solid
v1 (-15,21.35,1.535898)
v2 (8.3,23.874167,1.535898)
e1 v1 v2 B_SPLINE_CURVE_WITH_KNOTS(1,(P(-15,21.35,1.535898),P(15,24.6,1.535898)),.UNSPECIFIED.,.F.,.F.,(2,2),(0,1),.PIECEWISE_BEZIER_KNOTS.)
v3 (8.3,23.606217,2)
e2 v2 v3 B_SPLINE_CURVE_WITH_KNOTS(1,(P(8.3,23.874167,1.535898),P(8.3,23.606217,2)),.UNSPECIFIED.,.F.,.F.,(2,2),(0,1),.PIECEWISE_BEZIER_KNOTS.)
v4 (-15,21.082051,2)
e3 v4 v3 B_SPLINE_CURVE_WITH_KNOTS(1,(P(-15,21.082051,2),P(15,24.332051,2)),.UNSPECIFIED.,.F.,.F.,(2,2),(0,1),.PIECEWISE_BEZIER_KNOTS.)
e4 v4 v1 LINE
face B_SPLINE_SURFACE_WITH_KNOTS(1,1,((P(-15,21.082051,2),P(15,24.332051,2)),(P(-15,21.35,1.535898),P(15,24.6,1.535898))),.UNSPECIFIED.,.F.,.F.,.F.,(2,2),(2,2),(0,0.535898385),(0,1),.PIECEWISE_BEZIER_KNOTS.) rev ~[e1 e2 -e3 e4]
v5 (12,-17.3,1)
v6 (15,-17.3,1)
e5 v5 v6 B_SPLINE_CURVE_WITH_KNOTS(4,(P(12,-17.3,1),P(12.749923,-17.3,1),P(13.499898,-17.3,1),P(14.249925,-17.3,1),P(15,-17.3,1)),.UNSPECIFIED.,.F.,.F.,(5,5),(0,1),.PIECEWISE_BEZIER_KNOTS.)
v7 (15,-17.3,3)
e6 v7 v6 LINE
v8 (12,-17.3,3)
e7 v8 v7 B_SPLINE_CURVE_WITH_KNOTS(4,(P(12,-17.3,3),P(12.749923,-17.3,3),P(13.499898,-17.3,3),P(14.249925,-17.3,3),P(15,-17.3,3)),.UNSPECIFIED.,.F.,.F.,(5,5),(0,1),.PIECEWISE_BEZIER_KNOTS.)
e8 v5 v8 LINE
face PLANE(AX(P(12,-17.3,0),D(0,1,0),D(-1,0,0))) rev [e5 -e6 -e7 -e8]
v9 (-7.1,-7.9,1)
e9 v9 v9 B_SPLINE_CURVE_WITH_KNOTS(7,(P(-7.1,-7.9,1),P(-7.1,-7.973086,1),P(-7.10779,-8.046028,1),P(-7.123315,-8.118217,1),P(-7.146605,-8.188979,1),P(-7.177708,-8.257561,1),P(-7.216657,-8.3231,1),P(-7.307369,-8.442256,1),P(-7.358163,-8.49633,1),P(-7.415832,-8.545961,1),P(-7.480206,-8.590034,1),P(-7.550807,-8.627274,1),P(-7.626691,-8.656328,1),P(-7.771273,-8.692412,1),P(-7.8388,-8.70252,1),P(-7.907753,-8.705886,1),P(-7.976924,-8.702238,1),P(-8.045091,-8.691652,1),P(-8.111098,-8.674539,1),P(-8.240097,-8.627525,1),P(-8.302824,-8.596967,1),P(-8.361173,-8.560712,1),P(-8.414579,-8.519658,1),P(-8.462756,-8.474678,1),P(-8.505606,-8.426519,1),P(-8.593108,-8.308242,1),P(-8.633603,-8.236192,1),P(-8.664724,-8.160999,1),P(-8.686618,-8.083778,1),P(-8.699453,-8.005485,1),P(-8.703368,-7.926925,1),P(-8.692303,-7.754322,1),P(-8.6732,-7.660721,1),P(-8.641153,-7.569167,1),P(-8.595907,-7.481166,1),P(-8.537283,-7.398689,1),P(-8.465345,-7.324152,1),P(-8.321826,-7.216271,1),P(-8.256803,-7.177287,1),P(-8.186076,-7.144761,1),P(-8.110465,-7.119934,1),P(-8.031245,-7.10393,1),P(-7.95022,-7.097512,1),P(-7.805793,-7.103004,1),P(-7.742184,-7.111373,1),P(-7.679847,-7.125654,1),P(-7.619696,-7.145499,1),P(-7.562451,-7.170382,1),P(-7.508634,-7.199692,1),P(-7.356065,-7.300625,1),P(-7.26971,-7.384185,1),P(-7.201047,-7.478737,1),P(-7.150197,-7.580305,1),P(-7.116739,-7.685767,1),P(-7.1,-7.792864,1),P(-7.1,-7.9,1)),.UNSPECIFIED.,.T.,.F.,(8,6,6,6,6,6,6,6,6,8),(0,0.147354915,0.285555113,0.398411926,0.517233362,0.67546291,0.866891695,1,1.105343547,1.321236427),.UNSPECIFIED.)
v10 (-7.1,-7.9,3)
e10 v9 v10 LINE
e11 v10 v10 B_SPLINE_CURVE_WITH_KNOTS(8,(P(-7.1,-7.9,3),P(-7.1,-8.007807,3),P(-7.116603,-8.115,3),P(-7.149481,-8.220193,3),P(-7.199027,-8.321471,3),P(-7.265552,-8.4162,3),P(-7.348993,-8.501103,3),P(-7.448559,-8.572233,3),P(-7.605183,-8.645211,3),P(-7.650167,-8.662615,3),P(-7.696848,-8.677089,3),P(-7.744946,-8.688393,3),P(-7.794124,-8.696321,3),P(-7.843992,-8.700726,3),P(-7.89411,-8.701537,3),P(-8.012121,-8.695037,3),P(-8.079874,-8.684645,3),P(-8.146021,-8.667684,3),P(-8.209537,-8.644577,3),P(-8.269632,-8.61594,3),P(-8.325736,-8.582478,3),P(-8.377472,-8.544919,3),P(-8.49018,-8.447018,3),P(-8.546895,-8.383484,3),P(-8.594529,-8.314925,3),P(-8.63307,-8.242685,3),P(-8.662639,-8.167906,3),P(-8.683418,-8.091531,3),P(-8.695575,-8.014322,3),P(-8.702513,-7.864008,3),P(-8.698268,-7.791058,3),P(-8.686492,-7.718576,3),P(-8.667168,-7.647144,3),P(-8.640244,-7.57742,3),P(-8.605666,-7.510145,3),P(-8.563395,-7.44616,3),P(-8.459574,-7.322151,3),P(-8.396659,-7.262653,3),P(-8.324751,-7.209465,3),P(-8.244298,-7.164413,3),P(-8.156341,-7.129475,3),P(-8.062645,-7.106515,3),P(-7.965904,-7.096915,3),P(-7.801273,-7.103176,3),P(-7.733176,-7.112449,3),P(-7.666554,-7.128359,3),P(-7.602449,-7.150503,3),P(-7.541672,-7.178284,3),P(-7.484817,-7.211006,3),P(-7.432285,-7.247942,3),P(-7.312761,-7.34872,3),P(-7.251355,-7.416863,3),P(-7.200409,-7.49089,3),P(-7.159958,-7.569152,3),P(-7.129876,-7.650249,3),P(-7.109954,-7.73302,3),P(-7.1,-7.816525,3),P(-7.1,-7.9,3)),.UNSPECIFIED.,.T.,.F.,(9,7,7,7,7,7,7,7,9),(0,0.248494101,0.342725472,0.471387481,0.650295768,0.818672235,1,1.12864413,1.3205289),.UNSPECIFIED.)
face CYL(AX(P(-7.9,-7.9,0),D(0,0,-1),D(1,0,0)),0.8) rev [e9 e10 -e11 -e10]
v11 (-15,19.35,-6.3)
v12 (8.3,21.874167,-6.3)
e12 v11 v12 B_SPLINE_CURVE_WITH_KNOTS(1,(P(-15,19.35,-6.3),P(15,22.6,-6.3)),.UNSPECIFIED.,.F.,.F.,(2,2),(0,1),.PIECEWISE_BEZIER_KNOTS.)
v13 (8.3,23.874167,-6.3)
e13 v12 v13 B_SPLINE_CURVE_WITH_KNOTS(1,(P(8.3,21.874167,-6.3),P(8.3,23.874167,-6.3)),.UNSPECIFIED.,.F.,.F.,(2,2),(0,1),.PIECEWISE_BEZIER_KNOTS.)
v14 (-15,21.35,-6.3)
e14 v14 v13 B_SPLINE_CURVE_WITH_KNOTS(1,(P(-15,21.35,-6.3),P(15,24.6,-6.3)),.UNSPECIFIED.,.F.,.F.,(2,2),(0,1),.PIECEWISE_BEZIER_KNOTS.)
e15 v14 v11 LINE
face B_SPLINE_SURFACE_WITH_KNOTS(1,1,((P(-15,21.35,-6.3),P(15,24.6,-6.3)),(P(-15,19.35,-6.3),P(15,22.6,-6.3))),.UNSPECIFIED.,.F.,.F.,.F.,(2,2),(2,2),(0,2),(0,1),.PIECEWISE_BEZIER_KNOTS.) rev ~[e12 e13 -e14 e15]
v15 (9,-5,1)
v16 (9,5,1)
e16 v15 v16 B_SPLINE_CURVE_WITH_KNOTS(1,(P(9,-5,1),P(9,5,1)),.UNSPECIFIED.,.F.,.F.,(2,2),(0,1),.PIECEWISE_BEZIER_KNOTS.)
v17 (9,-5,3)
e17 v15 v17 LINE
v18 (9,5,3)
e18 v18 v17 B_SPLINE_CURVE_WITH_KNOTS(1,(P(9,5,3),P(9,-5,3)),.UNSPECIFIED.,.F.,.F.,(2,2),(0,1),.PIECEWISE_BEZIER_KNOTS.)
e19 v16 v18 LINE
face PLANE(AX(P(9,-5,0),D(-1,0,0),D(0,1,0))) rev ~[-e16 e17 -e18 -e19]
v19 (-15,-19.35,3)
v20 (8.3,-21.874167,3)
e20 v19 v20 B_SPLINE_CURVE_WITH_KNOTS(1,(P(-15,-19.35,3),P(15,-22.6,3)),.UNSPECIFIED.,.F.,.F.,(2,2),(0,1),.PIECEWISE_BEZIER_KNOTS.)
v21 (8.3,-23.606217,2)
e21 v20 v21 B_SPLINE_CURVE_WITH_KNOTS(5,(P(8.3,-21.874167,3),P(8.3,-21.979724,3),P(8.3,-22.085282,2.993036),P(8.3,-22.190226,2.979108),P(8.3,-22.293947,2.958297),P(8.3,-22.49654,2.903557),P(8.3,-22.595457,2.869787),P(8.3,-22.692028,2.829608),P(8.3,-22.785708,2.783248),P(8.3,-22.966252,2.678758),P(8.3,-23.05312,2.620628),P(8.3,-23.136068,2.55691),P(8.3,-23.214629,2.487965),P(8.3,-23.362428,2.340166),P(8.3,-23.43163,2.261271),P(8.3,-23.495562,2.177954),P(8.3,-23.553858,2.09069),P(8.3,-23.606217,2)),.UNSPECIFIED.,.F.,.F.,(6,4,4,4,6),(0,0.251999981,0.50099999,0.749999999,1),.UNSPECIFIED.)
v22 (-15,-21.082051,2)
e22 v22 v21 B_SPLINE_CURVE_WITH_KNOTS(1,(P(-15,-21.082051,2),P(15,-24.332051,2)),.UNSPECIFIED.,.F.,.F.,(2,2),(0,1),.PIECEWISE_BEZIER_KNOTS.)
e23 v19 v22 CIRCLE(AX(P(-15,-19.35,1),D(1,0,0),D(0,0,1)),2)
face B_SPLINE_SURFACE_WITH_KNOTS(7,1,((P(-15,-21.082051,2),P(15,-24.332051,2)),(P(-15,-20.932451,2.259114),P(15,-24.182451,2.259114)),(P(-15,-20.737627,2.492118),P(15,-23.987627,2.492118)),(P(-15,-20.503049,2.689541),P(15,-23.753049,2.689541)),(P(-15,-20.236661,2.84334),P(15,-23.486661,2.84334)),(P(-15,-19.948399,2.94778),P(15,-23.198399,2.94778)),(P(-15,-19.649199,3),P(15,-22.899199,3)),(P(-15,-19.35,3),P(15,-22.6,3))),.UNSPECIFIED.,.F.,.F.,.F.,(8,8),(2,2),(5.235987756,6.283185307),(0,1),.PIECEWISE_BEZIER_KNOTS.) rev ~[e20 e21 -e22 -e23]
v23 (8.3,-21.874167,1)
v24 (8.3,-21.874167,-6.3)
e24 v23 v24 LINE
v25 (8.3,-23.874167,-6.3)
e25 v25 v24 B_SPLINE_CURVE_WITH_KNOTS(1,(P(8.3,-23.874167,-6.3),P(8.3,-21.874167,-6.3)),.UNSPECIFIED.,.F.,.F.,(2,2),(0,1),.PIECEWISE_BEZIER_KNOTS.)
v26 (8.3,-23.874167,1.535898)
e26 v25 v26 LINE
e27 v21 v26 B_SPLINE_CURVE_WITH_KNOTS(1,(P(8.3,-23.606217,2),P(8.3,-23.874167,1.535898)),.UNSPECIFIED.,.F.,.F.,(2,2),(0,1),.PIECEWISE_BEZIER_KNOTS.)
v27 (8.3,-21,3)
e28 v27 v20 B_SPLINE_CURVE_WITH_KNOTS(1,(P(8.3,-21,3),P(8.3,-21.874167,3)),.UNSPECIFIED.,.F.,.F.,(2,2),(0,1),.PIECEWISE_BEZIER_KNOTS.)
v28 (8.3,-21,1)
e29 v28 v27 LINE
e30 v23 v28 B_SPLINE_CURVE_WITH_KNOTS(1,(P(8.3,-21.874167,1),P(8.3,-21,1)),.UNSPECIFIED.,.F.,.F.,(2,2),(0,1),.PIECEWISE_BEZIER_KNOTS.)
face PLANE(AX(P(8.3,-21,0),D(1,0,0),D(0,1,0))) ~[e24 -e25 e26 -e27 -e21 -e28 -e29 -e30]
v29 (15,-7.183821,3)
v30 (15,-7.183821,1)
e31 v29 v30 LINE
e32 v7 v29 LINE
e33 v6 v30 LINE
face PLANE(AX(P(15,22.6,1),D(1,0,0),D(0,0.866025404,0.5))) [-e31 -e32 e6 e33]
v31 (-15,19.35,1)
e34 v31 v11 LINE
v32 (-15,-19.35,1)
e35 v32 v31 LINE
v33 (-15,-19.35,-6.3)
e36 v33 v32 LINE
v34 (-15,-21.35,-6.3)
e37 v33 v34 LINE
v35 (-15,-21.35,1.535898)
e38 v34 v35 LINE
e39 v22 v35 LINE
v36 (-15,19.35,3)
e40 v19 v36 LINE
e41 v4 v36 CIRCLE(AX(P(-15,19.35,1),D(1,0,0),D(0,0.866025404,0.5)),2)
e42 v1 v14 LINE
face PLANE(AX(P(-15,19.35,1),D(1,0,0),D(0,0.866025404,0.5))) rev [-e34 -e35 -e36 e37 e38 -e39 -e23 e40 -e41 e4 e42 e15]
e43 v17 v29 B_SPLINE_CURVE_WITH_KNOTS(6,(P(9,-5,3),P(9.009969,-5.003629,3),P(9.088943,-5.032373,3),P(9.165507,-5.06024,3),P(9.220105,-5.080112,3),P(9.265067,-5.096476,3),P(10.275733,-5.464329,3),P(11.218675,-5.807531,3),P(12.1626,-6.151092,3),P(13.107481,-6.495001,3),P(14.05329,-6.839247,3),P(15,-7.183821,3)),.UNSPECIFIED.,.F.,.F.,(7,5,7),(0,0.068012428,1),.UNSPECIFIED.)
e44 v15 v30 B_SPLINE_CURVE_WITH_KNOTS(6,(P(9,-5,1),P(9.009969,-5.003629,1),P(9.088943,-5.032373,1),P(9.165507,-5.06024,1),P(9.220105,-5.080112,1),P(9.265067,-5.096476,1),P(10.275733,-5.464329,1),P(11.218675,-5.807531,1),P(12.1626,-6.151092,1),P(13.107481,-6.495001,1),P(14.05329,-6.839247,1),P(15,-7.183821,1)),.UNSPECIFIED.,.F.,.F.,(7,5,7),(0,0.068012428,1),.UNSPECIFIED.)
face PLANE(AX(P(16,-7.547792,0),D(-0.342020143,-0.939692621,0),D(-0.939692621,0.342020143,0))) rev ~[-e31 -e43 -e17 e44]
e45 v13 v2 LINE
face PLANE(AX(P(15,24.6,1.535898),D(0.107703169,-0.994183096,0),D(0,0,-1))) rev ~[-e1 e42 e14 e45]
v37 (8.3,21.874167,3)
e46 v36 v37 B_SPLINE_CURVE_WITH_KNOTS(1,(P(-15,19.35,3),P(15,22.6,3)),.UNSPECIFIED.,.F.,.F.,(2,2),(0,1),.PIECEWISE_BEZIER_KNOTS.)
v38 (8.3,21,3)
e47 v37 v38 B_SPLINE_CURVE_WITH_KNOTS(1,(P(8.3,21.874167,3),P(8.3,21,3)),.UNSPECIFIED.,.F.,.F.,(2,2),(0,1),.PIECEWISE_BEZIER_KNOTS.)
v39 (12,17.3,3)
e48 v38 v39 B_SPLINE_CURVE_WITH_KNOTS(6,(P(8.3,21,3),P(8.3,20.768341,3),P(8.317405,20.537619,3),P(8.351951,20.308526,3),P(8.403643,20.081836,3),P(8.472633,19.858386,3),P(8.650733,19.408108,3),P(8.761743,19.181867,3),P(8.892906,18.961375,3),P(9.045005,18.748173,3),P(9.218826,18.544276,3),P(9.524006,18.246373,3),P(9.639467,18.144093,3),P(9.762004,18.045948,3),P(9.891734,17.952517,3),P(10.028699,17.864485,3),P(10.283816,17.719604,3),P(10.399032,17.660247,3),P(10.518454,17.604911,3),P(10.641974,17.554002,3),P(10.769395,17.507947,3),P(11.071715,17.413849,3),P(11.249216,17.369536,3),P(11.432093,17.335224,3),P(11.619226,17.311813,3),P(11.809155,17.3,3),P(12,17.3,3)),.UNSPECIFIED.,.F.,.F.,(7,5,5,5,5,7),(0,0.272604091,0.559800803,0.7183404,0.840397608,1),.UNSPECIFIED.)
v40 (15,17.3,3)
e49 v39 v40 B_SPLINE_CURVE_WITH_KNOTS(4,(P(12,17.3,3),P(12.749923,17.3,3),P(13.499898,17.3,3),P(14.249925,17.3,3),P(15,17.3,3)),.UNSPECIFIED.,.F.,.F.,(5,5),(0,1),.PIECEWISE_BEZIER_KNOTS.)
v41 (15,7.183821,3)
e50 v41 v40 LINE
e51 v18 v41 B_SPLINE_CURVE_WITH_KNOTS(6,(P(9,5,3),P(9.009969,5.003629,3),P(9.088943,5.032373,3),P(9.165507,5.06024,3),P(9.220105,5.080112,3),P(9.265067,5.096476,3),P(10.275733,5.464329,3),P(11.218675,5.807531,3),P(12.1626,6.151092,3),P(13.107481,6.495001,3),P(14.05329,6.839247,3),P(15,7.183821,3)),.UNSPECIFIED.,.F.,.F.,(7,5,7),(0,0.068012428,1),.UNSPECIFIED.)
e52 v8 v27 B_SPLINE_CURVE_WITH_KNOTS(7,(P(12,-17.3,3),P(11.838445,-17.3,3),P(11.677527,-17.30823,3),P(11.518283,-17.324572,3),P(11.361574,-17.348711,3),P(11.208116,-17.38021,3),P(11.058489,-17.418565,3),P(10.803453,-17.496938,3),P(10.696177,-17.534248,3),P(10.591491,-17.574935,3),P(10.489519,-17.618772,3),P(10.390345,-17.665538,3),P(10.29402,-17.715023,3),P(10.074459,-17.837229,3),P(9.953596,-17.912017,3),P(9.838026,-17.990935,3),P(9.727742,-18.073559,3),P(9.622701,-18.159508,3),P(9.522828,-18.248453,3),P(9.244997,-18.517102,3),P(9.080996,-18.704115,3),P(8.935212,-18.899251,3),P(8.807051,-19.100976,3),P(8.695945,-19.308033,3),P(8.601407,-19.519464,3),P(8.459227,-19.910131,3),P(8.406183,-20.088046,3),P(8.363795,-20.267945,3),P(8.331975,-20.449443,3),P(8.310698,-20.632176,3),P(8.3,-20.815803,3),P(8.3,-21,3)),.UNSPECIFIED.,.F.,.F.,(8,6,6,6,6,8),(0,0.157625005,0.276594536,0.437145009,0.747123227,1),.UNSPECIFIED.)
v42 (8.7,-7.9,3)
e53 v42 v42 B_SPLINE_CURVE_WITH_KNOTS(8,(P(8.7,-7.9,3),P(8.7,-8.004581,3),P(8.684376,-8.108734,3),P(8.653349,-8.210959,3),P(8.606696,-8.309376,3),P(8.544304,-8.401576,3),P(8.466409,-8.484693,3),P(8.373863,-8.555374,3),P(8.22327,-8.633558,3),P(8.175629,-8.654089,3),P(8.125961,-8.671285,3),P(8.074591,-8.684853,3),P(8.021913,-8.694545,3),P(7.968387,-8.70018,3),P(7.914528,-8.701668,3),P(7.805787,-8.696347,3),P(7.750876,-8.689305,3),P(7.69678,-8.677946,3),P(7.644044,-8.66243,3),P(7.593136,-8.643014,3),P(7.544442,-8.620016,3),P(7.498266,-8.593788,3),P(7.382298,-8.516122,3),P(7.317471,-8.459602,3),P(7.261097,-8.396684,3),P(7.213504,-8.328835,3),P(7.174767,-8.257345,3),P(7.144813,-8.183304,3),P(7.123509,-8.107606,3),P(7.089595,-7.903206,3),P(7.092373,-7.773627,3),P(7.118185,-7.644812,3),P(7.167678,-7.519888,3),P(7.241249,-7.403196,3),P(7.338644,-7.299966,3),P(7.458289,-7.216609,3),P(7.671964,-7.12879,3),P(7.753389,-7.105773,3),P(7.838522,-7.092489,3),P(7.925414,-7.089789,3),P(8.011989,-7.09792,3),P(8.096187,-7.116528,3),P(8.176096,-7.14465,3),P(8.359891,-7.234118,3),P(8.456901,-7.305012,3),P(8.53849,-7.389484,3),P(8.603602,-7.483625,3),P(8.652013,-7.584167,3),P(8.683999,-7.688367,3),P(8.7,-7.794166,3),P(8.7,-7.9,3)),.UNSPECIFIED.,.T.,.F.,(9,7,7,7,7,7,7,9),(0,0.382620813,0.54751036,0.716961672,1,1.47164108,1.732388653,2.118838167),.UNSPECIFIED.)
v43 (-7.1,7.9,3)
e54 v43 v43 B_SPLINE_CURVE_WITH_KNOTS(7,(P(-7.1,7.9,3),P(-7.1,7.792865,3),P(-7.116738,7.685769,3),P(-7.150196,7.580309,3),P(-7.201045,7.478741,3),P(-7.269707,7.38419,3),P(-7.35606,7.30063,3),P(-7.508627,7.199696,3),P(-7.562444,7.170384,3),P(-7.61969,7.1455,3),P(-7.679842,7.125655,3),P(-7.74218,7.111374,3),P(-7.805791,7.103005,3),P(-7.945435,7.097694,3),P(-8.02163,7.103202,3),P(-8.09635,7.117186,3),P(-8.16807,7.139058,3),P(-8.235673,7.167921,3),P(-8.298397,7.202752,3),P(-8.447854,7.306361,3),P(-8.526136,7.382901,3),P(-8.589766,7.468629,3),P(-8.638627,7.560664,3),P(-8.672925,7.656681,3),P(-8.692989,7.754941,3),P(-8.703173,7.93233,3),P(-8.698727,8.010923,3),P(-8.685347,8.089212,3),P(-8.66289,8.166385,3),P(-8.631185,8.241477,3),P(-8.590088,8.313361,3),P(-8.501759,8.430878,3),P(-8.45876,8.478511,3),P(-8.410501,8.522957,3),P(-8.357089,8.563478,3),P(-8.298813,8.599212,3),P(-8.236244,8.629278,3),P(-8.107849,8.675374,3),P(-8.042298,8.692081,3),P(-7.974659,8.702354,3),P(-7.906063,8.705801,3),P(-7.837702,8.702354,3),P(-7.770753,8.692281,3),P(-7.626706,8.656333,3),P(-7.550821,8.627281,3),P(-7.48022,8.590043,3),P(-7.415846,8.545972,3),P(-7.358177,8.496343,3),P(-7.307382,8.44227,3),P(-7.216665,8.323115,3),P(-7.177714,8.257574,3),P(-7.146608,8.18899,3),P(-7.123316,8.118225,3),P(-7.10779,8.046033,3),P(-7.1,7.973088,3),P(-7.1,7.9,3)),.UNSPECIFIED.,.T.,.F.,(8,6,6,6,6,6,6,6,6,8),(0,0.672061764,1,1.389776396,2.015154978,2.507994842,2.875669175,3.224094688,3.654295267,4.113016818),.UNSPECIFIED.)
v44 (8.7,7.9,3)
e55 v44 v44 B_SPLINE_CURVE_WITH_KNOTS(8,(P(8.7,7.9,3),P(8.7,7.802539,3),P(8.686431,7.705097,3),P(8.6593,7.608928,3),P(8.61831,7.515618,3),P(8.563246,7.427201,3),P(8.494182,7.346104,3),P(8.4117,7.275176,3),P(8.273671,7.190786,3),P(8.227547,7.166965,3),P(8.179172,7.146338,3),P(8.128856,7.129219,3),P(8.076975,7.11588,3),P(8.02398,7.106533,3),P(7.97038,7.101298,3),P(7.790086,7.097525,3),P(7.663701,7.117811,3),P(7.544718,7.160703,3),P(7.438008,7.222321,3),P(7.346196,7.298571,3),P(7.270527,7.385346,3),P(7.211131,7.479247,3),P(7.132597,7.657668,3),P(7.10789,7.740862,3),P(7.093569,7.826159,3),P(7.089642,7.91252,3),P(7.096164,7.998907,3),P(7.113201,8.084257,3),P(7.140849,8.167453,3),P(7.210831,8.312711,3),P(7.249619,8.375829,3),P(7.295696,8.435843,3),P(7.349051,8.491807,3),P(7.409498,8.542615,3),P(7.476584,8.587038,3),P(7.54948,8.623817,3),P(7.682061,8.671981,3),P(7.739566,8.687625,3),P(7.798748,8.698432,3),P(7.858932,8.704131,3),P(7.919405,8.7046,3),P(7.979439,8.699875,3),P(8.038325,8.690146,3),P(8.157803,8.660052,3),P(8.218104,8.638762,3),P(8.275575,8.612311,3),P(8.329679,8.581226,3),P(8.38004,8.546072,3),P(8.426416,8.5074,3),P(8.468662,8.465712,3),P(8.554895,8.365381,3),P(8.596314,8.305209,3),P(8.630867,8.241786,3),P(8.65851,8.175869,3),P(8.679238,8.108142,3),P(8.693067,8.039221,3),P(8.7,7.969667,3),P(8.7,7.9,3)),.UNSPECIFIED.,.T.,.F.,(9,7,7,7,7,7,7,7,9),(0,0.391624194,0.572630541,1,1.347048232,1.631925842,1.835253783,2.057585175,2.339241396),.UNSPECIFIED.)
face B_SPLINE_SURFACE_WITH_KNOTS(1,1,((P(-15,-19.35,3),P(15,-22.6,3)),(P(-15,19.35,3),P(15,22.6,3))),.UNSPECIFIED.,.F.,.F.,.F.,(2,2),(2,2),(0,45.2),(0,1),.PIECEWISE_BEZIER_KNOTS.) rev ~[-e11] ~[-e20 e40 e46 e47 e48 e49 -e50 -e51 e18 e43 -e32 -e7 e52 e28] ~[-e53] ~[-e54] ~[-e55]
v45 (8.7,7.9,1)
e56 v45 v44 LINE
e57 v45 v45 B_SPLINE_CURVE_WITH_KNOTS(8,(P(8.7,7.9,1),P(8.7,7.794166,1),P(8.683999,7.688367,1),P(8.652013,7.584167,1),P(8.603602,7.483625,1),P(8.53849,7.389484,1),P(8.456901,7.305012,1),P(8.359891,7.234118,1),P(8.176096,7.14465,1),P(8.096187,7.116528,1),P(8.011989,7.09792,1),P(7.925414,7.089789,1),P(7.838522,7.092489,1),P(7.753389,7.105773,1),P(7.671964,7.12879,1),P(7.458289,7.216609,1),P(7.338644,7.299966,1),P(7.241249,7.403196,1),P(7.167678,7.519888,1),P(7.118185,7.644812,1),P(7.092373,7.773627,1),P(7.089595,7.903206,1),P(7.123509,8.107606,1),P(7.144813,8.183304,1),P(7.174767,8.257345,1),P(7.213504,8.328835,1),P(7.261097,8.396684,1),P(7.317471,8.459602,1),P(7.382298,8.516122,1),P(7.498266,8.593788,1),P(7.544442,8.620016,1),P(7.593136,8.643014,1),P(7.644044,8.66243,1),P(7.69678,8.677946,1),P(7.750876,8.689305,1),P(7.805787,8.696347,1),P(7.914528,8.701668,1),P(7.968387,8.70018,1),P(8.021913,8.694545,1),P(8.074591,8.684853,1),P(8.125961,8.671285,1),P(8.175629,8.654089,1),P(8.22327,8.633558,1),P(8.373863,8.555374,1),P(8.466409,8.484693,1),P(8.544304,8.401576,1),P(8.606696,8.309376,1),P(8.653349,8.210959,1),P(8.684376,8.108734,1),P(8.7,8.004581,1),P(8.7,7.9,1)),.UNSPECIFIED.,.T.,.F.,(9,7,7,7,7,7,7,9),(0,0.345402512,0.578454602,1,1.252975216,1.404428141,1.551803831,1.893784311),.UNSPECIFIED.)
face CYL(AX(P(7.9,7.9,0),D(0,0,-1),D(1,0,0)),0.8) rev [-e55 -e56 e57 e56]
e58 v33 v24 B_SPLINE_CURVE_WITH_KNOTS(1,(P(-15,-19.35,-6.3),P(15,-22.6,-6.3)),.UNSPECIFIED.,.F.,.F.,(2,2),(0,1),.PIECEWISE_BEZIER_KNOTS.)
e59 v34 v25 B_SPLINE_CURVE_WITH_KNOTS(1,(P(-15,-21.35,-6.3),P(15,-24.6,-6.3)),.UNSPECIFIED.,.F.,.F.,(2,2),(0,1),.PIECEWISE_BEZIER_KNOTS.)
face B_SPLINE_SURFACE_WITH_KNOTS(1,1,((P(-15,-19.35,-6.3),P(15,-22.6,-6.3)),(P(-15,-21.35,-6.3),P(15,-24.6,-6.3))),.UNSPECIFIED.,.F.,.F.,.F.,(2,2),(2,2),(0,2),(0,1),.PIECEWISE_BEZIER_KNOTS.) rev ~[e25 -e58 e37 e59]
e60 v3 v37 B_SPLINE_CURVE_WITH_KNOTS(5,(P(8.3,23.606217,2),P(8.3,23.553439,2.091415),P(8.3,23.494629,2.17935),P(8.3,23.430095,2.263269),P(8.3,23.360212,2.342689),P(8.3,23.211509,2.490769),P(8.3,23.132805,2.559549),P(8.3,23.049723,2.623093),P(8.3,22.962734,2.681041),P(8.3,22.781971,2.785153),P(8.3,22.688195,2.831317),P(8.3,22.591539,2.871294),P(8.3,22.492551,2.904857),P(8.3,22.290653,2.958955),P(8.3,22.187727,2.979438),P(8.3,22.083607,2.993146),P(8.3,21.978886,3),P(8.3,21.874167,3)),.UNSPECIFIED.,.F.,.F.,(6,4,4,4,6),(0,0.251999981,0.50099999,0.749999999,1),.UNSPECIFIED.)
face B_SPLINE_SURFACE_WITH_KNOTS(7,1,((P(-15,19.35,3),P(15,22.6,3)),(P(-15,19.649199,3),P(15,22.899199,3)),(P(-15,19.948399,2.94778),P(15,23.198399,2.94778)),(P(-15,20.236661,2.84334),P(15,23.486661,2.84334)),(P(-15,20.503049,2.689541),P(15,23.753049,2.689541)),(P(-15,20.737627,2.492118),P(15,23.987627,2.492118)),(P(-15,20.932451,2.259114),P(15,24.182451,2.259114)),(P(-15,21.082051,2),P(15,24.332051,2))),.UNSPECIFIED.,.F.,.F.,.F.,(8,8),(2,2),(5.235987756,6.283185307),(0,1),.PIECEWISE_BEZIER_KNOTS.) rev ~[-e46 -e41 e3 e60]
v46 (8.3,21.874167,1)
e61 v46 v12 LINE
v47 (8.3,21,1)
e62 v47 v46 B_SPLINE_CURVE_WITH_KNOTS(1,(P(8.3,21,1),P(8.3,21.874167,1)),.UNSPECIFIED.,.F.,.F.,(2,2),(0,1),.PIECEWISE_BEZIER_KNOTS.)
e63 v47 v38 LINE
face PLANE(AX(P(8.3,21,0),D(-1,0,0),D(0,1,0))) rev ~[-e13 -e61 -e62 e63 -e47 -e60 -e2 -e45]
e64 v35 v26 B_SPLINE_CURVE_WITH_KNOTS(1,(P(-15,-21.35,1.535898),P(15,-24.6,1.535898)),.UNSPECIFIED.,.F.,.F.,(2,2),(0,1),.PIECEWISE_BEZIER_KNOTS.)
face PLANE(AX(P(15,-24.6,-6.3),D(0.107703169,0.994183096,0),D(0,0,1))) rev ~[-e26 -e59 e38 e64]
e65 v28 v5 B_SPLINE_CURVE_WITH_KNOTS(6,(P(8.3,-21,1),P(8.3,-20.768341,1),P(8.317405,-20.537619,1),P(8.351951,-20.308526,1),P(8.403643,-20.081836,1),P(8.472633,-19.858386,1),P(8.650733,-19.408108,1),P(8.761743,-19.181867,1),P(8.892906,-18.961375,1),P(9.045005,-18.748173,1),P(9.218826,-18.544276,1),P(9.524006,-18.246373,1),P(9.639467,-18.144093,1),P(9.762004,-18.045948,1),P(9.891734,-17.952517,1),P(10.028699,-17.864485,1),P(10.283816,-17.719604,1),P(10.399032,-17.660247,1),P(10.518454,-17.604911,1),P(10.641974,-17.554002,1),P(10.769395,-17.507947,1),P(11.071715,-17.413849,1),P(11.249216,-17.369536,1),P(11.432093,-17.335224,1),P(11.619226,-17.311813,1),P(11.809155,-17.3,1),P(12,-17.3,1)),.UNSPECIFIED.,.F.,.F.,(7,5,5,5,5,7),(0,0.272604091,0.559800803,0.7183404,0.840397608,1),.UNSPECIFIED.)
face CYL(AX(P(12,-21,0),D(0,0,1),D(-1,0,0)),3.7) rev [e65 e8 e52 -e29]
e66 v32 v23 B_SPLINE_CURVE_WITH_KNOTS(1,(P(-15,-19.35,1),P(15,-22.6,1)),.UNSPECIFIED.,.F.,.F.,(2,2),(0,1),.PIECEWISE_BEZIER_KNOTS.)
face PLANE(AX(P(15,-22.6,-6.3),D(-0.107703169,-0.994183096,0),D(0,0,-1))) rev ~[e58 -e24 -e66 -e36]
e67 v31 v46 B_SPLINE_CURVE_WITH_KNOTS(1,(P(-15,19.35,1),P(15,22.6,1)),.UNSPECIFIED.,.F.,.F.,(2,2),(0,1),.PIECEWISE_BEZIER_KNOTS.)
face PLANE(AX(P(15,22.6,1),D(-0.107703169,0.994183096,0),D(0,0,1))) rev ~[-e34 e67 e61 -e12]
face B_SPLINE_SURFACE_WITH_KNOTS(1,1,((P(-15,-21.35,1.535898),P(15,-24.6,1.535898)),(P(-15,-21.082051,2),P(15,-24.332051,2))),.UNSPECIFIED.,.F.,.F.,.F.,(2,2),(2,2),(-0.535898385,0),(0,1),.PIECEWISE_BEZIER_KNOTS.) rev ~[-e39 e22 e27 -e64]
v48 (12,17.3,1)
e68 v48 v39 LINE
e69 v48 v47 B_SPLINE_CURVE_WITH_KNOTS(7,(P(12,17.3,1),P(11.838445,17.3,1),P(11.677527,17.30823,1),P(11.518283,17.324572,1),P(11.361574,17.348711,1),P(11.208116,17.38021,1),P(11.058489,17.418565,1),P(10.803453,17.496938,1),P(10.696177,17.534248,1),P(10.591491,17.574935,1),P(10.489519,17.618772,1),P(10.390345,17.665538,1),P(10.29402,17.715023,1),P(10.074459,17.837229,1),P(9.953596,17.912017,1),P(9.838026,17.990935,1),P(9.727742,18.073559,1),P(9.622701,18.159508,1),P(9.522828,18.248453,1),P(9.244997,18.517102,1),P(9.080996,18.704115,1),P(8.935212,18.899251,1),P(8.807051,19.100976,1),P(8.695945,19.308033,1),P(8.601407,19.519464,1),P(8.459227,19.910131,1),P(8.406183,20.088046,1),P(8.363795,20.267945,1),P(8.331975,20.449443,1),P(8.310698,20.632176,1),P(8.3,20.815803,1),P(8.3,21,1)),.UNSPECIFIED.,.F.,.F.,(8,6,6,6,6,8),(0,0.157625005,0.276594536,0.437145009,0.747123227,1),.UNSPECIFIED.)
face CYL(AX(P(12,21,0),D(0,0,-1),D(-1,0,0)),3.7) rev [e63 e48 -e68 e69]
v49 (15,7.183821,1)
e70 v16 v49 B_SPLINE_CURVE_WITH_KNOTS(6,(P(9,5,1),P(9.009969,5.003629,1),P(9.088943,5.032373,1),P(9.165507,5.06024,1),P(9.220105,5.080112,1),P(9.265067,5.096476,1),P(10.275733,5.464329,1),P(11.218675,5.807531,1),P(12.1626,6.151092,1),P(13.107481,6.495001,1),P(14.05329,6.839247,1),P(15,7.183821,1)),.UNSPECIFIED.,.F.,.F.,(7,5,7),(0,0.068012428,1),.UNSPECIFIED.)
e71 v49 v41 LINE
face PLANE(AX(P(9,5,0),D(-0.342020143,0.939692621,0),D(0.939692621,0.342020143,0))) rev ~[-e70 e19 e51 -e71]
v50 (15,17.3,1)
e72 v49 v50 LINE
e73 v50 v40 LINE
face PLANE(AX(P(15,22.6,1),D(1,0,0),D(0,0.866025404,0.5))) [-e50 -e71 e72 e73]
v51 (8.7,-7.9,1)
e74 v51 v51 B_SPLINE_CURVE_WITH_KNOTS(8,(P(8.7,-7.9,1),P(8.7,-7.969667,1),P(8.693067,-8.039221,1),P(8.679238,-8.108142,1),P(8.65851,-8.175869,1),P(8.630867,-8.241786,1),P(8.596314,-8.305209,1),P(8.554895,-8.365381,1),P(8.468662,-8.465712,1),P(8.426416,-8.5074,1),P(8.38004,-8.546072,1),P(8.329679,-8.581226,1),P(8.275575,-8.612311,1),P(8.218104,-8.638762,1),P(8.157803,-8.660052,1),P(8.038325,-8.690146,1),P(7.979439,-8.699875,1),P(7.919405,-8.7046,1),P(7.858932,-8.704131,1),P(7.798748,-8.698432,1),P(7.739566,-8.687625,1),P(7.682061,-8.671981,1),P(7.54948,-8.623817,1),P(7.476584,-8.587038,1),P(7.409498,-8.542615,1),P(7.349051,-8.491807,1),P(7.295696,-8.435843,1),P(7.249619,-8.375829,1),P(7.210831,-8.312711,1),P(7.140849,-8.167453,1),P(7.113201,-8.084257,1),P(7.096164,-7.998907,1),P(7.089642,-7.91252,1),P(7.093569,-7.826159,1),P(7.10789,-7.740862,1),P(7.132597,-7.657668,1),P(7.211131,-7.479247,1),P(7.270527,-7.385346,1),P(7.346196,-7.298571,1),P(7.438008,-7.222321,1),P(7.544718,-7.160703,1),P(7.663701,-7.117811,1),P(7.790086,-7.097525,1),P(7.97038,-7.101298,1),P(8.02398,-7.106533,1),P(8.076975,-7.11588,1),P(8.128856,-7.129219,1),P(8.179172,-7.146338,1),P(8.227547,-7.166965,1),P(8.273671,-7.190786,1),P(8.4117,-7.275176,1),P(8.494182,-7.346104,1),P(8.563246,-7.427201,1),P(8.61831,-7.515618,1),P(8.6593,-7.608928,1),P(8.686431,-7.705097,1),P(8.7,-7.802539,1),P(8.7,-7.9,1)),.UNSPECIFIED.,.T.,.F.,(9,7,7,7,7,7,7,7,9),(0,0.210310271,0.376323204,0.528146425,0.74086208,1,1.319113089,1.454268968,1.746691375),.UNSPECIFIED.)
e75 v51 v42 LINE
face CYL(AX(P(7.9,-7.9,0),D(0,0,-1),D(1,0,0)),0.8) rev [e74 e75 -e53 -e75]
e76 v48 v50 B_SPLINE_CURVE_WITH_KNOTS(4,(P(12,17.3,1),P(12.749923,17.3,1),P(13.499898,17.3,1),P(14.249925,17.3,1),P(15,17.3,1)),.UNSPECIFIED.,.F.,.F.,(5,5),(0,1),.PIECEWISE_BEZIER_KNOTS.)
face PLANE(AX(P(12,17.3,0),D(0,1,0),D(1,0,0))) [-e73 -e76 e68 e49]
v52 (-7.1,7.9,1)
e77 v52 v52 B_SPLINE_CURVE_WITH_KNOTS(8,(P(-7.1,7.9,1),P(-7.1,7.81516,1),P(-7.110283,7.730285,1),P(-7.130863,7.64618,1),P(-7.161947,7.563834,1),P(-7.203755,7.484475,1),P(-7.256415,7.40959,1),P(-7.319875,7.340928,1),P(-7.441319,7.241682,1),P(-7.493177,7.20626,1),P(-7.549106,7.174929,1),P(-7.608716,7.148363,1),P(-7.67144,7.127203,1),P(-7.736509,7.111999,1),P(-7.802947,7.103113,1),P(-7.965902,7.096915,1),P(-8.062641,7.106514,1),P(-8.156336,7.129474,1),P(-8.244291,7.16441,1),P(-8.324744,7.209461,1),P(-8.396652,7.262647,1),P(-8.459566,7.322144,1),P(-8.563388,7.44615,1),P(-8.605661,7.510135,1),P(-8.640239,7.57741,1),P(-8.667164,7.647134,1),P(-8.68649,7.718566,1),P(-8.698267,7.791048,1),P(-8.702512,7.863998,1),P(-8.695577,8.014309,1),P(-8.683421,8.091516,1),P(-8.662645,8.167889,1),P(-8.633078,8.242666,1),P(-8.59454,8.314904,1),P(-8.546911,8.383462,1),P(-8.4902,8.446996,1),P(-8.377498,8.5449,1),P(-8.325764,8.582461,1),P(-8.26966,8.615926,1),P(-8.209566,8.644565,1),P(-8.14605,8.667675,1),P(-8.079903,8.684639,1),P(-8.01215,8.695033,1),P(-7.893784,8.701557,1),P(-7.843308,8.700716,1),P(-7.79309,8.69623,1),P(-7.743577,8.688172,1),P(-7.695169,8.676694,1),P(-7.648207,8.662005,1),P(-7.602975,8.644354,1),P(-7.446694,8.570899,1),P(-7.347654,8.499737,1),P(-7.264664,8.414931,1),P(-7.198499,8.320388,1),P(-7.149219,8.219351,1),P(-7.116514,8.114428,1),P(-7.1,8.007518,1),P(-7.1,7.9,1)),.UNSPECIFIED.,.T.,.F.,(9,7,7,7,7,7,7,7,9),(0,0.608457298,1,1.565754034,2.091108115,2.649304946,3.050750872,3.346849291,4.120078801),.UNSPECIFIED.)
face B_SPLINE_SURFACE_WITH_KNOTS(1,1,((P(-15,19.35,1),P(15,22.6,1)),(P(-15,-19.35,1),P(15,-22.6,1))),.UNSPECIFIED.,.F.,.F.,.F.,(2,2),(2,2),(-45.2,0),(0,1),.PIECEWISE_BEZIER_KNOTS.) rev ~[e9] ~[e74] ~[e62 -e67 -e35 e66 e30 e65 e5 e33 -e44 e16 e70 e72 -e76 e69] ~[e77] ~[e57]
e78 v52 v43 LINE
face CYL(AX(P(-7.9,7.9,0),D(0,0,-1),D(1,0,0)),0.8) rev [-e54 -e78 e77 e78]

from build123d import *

# Parameters (mm, degrees)
SKETCH047_R          = 0.8
POCKET027_DEPTH      = 6.3010001
POCKET027_DEPTH_BACK = 3.0010001
POCKET028_DEPTH      = 6.3010001
POCKET028_DEPTH_BACK = 3.0010001
POCKET030_DEPTH      = 123.0422530554
POCKET030_DEPTH_BACK = 119.7422530554


with BuildPart() as part:
    # Sketch046 → AdditiveLoft section 0
    with BuildSketch(Plane.YZ.offset(-15)):
        with BuildLine():
            Line((-19.35, 3), (19.35, 3))
            ThreePointArc((21.0820508076, 2), (20.35, 2.7320508076), (19.35, 3))
            Line((21.0820508076, 2), (21.35, 1.5358983849))
            Line((21.35, 1.5358983849), (21.35, -6.3))
            Line((21.35, -6.3), (19.35, -6.3))
            Line((19.35, 1), (19.35, -6.3))
            Line((-19.35, 1), (19.35, 1))
            Line((-19.35, -6.3), (-19.35, 1))
            Line((-19.35, -6.3), (-21.35, -6.3))
            Line((-21.35, -6.3), (-21.35, 1.5358983849))
            Line((-21.0820508076, 2), (-21.35, 1.5358983849))
            ThreePointArc((-19.35, 3), (-20.35, 2.7320508076), (-21.0820508076, 2))
        make_face()
    # Sketch058 → AdditiveLoft section 1
    with BuildSketch(Plane.YZ.offset(15)):
        with BuildLine():
            Line((-22.6, 3), (22.6, 3))
            ThreePointArc((24.3320508076, 2), (23.6, 2.7320508076), (22.6, 3))
            Line((24.3320508076, 2), (24.6, 1.5358983849))
            Line((24.6, 1.5358983849), (24.6, -6.3))
            Line((24.6, -6.3), (22.6, -6.3))
            Line((22.6, 1), (22.6, -6.3))
            Line((-22.6, 1), (22.6, 1))
            Line((-22.6, -6.3), (-22.6, 1))
            Line((-22.6, -6.3), (-24.6, -6.3))
            Line((-24.6, -6.3), (-24.6, 1.5358983849))
            Line((-24.3320508076, 2), (-24.6, 1.5358983849))
            ThreePointArc((-22.6, 3), (-23.6, 2.7320508076), (-24.3320508076, 2))
        make_face()
    loft()

    # Sketch047 → Pocket027 (cut, two sides)
    with BuildSketch(Plane.XY) as pocket027_sk:
        with Locations((7.9, 7.9)):
            Circle(SKETCH047_R)
        with Locations((-7.9, 7.9)):
            Circle(SKETCH047_R)
        with Locations((-7.9, -7.9)):
            Circle(SKETCH047_R)
        with Locations((7.9, -7.9)):
            Circle(SKETCH047_R)
    extrude(amount=-POCKET027_DEPTH, mode=Mode.SUBTRACT)
    extrude(pocket027_sk.sketch, amount=POCKET027_DEPTH_BACK, mode=Mode.SUBTRACT)

    # Sketch048 → Pocket028 (cut, two sides)
    with BuildSketch(Plane.XY) as pocket028_sk:
        Polygon((9, 5), (16, 7.5477916399), (16, -7.5477916399), (9, -5), align=None)
    extrude(amount=-POCKET028_DEPTH, mode=Mode.SUBTRACT)
    extrude(pocket028_sk.sketch, amount=POCKET028_DEPTH_BACK, mode=Mode.SUBTRACT)

    # Sketch050 → Pocket030 (cut, two sides)
    with BuildSketch(Plane.XY) as pocket030_sk:
        with BuildLine():
            Line((8.3, 30), (18.3, 30))
            Line((18.3, 30), (18.3, 17.3))
            Line((12, 17.3), (18.3, 17.3))
            ThreePointArc((8.3, 21), (9.3837049096, 18.3837049096), (12, 17.3))
            Line((8.3, 21), (8.3, 30))
        make_face()
    pocket030 = extrude(amount=-POCKET030_DEPTH, mode=Mode.SUBTRACT) + extrude(pocket030_sk.sketch, amount=POCKET030_DEPTH_BACK, mode=Mode.SUBTRACT)

    # Mirrored011: Pocket030 across XZ
    add(pocket030.mirror(Plane.XZ), mode=Mode.SUBTRACT)


solid = part.part
